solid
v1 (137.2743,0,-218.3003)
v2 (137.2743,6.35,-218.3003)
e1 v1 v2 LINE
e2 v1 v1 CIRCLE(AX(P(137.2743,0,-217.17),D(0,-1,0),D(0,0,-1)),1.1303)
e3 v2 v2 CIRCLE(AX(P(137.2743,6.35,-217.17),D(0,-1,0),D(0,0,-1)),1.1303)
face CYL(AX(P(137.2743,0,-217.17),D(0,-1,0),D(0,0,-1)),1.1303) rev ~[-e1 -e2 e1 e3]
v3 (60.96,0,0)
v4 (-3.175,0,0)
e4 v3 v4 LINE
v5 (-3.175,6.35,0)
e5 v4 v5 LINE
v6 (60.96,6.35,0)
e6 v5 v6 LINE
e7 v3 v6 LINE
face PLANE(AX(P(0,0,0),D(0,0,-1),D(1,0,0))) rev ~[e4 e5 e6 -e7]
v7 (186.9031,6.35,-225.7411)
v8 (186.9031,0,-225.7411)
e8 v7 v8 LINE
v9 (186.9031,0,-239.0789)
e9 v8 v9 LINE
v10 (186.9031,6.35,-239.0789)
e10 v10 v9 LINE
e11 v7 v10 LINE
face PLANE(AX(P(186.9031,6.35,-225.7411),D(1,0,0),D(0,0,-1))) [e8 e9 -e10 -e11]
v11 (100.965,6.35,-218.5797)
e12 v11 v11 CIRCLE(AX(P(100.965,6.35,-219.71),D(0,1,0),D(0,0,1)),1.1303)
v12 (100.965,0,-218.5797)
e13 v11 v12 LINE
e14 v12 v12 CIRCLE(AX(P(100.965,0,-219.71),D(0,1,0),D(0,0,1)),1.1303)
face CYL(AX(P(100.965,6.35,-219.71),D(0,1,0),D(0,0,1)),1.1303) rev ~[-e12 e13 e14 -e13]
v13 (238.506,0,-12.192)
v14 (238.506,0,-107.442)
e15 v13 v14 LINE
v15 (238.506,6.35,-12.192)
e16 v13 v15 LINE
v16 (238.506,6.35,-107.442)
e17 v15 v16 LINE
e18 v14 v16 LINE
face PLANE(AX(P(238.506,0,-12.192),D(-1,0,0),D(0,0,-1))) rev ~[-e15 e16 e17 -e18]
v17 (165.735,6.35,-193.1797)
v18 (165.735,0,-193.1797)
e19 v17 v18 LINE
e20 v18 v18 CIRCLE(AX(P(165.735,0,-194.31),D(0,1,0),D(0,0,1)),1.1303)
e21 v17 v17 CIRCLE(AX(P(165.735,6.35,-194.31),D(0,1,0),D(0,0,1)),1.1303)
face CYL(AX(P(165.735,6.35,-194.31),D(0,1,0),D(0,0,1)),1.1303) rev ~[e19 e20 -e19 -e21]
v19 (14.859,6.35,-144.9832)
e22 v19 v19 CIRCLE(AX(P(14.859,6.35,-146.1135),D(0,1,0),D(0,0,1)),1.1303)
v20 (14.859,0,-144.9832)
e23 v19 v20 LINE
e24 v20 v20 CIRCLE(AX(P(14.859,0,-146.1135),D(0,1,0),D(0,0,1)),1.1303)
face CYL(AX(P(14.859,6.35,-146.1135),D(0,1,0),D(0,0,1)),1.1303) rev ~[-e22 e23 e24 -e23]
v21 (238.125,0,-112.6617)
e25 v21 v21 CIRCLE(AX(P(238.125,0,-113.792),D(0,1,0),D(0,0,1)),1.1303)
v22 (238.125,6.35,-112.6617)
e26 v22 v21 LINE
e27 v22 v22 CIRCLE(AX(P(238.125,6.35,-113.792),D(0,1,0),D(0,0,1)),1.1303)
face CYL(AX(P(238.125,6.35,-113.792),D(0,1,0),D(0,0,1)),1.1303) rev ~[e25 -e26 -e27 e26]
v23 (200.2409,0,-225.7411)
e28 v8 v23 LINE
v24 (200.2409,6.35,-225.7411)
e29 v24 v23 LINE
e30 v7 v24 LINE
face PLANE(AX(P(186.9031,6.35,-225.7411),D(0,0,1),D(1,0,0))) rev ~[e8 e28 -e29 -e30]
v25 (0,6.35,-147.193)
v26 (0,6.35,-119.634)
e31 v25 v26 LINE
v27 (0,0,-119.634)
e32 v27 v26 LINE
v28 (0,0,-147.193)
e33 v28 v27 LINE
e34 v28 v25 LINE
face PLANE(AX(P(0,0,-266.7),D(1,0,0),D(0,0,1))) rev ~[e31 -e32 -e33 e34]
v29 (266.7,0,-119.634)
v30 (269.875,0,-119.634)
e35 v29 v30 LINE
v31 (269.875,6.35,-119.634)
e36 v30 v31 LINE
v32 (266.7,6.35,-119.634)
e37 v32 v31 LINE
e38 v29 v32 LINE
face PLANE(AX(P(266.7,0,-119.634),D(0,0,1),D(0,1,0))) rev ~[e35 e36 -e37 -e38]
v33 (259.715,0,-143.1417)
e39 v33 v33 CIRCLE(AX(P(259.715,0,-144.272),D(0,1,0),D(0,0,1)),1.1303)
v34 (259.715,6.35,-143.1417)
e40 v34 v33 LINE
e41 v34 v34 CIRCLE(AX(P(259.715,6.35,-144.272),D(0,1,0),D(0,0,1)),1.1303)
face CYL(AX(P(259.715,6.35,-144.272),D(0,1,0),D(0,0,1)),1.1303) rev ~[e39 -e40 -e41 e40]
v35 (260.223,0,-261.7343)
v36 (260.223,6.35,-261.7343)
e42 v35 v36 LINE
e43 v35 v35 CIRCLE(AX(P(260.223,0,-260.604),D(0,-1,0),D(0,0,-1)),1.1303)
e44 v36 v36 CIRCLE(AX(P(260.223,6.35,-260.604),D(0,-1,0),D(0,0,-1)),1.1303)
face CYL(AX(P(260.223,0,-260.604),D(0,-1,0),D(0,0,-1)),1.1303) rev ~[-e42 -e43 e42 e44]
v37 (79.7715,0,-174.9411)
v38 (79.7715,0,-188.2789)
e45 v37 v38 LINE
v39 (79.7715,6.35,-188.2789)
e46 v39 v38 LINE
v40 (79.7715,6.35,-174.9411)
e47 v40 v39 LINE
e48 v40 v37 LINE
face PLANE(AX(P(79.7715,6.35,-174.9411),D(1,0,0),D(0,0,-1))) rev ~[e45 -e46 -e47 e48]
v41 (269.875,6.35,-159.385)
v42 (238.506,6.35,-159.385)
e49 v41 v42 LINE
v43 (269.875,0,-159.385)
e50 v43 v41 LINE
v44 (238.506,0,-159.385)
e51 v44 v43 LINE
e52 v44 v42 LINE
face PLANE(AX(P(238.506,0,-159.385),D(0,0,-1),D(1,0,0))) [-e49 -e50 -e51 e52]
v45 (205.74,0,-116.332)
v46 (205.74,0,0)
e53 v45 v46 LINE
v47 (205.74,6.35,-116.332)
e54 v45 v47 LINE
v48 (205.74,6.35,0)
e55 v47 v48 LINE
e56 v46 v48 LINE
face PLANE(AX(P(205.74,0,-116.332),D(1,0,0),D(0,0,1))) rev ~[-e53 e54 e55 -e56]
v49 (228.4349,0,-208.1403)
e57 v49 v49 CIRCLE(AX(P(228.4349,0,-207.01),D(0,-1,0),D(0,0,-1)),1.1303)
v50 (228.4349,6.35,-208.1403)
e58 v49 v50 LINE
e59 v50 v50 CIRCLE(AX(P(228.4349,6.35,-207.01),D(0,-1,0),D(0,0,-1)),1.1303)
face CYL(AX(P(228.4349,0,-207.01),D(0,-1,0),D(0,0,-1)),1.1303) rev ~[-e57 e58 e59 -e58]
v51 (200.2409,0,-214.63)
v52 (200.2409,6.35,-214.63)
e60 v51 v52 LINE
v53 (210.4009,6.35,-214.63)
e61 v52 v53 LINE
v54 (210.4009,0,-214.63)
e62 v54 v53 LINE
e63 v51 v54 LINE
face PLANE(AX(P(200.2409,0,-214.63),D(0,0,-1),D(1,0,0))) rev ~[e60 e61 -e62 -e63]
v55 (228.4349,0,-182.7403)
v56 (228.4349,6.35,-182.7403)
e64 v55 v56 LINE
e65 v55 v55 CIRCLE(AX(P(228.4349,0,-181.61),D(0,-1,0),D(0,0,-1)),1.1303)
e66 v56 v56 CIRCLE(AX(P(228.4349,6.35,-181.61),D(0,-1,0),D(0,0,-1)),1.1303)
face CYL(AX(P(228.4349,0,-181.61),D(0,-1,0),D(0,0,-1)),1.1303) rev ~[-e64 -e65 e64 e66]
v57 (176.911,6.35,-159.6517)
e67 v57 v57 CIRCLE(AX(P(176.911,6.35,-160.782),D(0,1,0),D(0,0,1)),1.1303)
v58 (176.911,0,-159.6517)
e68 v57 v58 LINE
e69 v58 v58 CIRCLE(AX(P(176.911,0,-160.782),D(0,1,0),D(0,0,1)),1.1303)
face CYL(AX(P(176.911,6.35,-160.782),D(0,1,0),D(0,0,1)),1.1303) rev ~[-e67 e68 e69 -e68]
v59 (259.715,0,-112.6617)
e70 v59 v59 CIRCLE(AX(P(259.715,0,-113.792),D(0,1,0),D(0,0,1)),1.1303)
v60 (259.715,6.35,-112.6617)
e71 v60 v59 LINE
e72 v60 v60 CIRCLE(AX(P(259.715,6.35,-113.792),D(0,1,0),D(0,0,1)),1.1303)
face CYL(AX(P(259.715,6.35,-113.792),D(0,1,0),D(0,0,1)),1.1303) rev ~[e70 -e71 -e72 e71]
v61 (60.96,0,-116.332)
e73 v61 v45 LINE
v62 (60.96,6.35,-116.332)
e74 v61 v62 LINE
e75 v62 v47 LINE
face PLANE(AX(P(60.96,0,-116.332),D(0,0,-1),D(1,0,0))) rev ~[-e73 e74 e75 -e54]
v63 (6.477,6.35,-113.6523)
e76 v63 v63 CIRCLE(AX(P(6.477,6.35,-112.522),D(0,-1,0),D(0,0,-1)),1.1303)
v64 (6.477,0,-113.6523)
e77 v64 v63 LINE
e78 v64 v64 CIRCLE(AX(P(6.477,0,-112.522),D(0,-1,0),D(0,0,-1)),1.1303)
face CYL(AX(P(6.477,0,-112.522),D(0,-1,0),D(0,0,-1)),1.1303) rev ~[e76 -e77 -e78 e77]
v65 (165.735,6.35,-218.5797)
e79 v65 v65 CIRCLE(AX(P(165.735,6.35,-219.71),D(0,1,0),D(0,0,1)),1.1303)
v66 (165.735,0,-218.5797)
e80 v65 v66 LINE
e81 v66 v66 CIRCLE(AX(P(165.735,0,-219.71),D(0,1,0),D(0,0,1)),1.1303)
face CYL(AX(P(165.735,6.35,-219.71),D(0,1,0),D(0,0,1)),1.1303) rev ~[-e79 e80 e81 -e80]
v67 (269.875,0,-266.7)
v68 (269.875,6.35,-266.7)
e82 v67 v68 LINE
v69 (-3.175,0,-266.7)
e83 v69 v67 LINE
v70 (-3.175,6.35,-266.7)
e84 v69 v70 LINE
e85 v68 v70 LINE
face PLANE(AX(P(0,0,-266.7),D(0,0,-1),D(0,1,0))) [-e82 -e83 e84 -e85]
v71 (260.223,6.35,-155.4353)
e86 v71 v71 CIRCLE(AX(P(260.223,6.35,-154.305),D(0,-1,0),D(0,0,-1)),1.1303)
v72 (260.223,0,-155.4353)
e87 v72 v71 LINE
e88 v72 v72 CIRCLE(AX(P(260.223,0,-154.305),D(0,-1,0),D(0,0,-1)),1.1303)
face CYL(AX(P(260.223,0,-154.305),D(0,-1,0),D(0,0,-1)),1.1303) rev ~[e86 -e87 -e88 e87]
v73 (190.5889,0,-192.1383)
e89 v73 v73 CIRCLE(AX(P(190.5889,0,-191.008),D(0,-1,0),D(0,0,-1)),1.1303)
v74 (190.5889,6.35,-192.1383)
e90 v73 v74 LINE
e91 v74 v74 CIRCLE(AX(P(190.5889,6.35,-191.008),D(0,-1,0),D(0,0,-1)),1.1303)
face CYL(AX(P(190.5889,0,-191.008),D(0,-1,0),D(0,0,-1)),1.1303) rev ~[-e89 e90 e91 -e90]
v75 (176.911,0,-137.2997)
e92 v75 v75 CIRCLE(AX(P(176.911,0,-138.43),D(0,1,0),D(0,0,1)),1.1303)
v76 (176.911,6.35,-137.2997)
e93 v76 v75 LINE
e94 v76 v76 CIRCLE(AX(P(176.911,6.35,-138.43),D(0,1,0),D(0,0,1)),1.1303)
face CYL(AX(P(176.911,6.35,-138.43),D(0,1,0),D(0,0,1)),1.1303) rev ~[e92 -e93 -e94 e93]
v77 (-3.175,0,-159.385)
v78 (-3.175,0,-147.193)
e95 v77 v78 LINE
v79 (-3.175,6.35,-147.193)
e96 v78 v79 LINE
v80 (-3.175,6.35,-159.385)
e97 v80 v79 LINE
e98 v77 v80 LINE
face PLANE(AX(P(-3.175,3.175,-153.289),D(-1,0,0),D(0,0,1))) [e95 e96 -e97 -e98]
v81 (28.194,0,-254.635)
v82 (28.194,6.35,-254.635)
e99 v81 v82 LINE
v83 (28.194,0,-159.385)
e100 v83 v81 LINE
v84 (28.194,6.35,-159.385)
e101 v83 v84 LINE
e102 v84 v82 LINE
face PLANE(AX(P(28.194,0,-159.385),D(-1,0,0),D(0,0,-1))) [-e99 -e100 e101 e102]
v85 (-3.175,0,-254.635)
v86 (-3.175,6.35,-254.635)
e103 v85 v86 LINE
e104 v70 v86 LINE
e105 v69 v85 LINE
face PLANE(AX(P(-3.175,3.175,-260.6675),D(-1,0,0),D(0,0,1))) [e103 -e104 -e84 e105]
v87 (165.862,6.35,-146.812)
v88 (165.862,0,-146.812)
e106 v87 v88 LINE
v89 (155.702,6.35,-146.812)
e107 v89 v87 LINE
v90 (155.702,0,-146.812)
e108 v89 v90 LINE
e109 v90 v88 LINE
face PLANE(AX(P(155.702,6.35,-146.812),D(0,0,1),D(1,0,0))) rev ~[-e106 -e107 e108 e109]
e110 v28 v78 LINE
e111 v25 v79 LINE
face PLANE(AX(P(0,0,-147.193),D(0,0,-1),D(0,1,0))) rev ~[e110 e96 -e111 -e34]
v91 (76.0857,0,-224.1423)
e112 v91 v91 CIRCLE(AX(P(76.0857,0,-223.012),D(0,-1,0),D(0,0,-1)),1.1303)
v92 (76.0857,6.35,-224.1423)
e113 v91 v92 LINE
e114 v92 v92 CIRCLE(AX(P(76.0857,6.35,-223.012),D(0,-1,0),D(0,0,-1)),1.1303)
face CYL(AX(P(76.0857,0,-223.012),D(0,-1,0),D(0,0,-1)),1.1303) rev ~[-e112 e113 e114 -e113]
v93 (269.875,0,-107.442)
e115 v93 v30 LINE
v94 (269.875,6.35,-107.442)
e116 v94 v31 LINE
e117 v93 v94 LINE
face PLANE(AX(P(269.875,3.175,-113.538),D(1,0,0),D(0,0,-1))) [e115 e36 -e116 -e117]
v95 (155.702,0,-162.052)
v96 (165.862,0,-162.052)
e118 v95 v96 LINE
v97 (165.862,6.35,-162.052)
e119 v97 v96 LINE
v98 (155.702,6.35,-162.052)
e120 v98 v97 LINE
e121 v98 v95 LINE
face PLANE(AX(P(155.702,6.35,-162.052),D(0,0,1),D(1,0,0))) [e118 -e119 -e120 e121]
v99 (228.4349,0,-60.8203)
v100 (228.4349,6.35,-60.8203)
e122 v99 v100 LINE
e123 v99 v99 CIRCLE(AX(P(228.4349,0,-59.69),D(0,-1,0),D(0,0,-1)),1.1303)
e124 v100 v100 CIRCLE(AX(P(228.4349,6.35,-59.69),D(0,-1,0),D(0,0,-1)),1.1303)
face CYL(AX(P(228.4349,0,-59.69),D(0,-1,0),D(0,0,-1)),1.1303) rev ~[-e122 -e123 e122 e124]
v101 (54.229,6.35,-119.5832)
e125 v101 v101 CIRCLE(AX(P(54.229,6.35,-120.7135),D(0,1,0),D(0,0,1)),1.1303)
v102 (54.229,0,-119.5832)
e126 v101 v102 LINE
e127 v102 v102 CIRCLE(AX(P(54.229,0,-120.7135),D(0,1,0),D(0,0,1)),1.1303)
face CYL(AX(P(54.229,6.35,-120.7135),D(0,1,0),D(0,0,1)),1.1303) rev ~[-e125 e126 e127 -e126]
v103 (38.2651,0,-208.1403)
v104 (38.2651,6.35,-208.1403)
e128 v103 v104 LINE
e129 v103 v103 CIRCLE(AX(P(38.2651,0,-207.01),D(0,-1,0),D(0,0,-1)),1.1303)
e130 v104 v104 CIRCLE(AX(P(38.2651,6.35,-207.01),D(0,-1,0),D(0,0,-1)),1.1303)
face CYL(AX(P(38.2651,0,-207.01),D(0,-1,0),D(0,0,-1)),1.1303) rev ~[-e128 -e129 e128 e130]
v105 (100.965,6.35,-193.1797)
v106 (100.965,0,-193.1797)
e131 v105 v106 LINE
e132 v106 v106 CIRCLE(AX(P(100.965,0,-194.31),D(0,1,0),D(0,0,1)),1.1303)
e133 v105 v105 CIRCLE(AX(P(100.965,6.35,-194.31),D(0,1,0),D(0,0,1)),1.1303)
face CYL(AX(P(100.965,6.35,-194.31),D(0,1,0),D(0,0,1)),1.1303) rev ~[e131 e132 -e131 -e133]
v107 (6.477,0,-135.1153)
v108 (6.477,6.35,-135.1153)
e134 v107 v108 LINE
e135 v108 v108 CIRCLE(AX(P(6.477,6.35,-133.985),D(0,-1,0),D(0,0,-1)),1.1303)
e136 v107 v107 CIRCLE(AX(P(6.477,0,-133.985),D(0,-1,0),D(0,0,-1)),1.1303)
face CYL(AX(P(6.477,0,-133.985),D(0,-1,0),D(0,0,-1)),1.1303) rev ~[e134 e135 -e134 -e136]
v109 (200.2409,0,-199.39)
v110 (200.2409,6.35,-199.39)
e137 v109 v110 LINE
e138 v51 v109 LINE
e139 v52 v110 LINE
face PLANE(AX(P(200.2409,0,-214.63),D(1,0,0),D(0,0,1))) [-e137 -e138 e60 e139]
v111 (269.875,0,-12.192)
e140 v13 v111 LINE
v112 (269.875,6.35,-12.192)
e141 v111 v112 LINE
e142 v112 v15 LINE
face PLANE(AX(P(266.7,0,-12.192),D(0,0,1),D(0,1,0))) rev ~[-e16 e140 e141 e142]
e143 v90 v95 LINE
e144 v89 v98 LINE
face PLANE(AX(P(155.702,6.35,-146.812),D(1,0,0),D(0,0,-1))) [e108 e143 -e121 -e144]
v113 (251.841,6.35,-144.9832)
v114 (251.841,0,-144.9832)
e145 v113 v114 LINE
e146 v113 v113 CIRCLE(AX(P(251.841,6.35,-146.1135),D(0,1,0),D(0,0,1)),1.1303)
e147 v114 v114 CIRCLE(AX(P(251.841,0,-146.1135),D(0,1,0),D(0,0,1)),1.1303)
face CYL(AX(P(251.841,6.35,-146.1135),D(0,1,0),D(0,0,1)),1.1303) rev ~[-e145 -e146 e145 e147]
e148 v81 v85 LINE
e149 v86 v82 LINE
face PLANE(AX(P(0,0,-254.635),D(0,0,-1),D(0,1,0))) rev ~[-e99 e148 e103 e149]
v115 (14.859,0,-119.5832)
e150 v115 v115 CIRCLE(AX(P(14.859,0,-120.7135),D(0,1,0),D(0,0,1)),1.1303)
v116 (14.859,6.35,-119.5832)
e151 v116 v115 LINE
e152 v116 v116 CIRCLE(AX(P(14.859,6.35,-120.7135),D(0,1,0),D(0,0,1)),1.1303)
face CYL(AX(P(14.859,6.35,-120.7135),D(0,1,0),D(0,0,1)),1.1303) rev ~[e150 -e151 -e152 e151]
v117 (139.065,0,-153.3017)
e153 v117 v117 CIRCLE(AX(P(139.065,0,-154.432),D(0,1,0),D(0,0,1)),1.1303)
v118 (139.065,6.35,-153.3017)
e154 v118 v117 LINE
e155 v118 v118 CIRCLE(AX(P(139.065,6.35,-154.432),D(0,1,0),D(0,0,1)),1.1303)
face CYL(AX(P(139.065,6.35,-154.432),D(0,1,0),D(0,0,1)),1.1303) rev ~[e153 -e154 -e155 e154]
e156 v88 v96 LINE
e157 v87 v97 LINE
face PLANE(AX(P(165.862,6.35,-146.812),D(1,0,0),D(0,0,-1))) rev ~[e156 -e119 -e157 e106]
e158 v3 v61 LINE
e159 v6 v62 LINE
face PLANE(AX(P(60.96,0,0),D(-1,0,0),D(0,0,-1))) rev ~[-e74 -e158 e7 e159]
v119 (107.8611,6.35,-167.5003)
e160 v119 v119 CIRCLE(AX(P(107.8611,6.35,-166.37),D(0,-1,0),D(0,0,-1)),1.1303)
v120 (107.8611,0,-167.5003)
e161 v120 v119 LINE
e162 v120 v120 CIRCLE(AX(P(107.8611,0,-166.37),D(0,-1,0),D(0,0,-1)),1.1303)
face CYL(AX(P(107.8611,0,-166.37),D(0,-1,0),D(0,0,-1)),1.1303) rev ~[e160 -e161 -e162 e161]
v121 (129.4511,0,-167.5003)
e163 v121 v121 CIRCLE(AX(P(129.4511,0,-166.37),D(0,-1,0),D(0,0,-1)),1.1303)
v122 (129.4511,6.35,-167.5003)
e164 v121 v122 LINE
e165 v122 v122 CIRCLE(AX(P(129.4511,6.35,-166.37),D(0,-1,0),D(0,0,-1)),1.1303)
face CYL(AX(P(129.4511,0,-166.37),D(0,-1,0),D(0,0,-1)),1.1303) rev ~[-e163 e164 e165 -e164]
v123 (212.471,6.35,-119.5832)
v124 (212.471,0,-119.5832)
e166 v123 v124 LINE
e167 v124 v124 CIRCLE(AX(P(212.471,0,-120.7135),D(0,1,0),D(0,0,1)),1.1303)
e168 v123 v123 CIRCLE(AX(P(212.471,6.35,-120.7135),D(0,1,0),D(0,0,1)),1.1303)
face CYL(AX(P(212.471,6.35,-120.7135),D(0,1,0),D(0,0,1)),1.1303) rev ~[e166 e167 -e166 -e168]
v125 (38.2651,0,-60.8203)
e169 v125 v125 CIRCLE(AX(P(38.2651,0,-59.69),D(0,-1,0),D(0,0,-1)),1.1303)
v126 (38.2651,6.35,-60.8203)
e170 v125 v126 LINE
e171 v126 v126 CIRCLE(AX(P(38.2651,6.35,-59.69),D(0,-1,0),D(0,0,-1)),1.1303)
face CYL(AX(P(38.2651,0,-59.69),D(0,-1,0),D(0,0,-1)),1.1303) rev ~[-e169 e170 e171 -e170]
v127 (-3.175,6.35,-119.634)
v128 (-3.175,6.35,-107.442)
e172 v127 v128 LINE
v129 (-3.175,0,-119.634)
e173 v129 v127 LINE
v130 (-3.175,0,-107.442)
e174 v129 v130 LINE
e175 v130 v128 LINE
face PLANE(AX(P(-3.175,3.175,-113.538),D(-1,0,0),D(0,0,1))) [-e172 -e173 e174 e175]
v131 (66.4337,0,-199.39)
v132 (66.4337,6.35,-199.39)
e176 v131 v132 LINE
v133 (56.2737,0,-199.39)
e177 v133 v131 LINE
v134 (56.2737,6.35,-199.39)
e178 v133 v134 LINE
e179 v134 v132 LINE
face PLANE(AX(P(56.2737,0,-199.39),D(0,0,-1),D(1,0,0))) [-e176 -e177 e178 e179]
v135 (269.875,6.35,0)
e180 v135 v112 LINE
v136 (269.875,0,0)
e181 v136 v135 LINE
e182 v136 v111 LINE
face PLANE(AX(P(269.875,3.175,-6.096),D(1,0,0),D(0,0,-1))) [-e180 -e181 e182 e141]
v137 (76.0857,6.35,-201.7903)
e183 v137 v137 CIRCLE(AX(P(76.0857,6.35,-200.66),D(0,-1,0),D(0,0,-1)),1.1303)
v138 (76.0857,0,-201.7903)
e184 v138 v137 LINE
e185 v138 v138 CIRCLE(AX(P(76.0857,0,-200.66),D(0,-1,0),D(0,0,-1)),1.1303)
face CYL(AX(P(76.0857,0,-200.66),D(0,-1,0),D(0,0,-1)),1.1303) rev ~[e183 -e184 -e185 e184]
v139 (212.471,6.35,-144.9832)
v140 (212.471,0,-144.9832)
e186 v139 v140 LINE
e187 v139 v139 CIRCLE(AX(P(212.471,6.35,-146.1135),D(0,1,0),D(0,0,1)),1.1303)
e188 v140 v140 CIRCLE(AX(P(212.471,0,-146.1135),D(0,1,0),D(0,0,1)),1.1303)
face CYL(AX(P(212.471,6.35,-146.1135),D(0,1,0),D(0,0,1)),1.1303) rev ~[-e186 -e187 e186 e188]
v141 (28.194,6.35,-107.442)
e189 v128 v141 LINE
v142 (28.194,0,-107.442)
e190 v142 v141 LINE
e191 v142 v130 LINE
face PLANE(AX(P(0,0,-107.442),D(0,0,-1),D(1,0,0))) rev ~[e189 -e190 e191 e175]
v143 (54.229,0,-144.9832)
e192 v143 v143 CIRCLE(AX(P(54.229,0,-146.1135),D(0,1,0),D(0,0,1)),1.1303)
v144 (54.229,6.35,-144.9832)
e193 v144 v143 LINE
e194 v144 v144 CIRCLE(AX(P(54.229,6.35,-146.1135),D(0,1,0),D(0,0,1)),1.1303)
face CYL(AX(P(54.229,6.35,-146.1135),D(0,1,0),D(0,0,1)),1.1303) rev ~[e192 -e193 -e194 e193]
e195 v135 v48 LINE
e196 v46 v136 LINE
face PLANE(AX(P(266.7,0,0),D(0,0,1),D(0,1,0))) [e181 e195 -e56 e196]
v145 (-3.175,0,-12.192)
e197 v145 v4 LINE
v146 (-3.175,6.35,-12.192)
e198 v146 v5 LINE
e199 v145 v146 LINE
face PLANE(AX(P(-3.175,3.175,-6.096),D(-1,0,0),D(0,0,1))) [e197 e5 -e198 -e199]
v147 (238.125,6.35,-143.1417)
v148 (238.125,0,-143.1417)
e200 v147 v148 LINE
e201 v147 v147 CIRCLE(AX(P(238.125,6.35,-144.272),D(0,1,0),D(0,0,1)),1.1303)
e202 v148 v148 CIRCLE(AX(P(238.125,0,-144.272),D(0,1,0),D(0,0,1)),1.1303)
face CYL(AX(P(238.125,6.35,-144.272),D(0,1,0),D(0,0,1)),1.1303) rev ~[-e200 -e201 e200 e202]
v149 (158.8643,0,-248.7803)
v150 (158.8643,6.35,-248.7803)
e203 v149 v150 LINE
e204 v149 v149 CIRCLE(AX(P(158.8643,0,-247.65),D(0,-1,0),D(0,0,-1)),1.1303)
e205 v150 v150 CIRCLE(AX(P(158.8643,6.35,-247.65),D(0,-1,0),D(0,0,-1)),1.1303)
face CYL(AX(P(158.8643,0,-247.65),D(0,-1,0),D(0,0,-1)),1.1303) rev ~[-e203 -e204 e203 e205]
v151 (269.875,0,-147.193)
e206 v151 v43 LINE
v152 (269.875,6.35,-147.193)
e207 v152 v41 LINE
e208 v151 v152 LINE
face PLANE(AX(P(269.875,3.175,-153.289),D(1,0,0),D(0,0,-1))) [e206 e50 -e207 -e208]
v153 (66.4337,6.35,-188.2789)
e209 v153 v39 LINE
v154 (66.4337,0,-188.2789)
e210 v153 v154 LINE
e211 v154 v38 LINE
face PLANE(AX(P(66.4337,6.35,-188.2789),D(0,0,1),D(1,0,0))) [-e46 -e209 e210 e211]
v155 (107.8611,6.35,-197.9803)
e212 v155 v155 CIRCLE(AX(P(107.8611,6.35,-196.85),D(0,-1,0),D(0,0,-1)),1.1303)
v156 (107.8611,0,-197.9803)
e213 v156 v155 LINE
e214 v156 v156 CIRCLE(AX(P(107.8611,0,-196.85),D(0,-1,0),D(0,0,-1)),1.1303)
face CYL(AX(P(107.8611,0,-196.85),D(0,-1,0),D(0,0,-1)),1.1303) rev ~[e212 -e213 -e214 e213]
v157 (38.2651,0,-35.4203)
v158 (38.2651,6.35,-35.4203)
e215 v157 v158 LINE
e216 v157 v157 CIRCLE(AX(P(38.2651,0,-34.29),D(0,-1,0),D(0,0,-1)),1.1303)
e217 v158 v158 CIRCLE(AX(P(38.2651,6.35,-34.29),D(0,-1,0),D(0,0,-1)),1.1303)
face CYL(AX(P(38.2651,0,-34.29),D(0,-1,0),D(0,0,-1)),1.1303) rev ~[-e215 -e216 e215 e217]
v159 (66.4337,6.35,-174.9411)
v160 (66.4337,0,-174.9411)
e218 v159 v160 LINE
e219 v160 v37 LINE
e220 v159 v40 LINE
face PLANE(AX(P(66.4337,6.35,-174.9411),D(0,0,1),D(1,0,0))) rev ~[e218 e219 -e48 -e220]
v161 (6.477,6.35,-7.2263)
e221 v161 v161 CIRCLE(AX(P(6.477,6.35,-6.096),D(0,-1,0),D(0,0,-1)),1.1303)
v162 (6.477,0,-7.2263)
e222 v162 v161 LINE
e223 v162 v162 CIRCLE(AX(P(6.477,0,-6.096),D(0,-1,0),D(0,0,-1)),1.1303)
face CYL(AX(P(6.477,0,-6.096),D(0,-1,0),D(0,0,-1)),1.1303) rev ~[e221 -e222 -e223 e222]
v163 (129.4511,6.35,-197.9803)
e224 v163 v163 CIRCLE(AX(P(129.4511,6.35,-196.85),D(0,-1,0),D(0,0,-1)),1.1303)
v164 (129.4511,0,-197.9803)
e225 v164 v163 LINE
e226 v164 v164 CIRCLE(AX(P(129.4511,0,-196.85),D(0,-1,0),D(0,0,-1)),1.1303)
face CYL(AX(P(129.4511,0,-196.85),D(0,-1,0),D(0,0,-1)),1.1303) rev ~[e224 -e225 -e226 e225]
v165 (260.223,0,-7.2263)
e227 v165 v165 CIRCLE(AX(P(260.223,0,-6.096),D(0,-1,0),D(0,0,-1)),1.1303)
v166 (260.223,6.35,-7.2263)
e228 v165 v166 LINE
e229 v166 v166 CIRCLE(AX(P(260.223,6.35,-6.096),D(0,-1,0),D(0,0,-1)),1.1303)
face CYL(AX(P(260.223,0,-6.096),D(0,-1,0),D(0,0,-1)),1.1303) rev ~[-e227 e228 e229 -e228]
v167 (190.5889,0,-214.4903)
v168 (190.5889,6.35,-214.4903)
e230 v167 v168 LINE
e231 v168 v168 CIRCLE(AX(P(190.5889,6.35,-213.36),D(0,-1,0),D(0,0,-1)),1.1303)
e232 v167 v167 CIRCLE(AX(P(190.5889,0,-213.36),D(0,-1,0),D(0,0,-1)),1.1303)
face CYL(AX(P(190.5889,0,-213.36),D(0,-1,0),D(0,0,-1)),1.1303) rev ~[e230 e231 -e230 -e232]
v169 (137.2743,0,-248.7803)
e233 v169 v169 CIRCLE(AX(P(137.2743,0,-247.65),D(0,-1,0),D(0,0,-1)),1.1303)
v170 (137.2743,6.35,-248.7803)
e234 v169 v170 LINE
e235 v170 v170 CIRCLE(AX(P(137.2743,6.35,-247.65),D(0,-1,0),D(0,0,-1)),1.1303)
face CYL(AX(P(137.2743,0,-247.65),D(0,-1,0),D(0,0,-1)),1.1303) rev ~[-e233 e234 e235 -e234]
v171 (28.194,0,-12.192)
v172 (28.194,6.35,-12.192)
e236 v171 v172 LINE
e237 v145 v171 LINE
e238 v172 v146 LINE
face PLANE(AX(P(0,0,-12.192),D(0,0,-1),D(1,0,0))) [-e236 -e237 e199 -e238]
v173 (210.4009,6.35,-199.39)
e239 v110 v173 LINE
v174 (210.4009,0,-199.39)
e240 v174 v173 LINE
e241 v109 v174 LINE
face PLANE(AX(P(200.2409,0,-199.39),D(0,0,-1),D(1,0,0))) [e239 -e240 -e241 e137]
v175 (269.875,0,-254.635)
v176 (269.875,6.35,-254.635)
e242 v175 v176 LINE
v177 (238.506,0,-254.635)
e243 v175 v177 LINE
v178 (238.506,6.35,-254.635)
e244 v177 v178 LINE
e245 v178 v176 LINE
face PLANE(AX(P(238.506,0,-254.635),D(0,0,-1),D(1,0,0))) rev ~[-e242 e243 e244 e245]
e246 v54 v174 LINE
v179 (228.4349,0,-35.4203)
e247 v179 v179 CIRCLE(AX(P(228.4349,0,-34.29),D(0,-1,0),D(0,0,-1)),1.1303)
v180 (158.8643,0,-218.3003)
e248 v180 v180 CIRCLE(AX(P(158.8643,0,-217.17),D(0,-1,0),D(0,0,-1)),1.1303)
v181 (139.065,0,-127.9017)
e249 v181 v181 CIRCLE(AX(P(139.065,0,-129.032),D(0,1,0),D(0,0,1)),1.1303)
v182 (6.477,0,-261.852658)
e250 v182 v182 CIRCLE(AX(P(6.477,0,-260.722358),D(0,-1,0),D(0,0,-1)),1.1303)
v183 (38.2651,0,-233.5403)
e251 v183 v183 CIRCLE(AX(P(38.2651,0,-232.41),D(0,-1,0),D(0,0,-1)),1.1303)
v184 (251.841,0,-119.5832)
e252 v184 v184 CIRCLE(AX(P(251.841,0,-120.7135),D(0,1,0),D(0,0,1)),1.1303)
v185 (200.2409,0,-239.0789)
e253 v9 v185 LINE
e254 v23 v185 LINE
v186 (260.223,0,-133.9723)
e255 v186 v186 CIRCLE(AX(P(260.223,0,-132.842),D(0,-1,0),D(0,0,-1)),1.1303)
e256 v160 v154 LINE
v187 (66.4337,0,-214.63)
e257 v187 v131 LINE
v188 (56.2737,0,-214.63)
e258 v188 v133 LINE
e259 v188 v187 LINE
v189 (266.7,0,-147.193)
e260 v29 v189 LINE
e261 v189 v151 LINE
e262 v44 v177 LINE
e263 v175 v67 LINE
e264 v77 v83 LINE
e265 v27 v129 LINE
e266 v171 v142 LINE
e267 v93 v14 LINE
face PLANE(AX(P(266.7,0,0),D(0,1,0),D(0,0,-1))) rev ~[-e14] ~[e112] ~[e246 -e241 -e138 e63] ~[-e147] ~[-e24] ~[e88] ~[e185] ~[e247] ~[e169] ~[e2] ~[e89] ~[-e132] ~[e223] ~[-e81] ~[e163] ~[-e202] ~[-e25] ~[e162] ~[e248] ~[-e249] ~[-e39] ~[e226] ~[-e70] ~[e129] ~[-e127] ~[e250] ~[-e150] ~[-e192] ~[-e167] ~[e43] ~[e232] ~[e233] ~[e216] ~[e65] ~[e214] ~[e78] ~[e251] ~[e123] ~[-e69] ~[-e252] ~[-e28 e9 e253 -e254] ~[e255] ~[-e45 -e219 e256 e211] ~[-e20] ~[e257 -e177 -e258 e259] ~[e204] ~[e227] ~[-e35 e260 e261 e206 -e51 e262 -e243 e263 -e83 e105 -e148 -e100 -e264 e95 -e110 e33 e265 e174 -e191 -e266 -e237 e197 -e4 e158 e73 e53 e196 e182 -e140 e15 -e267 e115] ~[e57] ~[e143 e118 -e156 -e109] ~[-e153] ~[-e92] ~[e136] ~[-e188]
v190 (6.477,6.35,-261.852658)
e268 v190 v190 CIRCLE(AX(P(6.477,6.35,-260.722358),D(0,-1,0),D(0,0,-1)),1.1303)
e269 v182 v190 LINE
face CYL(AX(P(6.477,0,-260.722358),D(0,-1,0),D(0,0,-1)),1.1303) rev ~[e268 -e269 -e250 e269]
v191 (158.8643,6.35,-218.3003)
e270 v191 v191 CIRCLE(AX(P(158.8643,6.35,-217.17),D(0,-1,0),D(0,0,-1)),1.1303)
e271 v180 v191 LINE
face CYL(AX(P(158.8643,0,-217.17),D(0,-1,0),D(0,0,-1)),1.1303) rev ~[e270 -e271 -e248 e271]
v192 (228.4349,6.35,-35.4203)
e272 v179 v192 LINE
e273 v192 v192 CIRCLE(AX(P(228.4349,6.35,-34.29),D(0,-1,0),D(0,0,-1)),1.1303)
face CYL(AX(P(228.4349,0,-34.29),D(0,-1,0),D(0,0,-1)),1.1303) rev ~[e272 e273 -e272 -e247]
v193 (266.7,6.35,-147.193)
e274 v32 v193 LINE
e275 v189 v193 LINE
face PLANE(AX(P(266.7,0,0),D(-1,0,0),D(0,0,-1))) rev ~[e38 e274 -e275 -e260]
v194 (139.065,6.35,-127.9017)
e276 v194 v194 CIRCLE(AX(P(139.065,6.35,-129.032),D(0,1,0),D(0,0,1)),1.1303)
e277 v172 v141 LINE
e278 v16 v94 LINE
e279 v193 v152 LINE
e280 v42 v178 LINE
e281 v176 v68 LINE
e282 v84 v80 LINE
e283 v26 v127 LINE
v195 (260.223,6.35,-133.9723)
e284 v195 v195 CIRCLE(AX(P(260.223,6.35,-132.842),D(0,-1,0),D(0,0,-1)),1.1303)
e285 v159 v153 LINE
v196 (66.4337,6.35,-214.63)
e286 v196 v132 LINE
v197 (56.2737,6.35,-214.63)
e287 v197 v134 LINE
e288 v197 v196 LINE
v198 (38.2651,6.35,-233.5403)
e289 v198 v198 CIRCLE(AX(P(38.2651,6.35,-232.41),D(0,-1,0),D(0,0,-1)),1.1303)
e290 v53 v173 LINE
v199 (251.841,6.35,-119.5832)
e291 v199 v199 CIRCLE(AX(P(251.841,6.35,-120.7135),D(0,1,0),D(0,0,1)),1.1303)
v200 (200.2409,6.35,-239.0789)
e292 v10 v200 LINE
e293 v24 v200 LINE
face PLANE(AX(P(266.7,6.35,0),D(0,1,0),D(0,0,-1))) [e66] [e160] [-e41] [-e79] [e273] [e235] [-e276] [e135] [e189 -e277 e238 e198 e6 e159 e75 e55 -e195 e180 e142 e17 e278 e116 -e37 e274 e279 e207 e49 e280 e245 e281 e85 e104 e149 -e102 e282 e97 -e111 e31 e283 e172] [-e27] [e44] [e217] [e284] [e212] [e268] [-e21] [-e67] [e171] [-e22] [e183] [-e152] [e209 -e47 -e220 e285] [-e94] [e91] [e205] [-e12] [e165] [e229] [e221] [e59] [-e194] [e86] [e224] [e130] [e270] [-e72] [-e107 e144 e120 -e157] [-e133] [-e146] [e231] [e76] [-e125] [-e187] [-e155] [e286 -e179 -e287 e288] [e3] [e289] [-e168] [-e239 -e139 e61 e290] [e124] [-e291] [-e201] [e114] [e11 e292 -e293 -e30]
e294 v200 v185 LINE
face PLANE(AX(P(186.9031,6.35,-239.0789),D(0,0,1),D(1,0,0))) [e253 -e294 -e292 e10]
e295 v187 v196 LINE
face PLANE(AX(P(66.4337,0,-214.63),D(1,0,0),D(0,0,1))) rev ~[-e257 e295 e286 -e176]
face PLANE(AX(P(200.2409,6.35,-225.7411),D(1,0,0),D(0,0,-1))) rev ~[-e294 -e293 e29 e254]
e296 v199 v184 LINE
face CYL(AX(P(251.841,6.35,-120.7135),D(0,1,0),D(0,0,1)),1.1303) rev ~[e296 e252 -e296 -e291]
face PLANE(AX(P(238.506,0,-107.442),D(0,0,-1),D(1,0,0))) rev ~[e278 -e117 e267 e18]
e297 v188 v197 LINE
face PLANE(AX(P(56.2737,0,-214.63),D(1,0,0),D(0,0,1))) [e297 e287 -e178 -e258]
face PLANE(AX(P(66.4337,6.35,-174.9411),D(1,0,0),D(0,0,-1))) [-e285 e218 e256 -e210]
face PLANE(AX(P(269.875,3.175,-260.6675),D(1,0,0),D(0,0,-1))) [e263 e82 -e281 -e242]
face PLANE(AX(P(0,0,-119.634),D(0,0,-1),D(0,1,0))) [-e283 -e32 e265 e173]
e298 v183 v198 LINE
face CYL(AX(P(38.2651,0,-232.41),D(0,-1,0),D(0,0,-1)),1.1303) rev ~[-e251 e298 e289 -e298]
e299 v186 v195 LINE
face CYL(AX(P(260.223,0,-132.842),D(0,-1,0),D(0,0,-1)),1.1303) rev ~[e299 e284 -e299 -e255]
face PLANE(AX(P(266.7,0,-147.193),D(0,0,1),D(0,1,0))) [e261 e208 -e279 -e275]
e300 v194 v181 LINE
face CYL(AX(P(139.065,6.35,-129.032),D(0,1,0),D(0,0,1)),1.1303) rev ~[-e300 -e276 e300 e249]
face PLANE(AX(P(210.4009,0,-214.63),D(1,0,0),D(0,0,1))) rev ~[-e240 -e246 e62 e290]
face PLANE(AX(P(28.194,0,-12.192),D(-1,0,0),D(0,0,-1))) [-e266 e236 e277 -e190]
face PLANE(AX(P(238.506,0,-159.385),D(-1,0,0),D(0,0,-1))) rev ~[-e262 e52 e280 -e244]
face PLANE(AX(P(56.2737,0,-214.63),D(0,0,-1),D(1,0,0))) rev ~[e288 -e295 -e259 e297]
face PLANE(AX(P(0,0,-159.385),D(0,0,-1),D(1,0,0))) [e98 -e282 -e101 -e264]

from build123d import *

# Parameters (mm, degrees)
BOSS_EXTRUDE1_DEPTH = 6.35
SKETCH3_R           = 1.1303
SKETCH3_W           = 10.16
SKETCH3_H           = 15.24
CUT_EXTRUDE1_DEPTH  = 6.35
SKETCH5_W           = 28.194
SKETCH5_H           = 95.25
CUT_EXTRUDE2_DEPTH  = 6.35
SKETCH6_W           = 13.337799598
SKETCH6_H           = 13.337799598
CUT_EXTRUDE3_DEPTH  = 6.35
SKETCH7_R           = 1.1303
CUT_EXTRUDE4_DEPTH  = 16.002
SKETCH8_R           = 1.1303
SKETCH8_W           = 10.16
SKETCH8_H           = 15.24
CUT_EXTRUDE5_DEPTH  = 6.35
SKETCH9_W           = 12.065
SKETCH9_H           = 6.35
SKETCH9_W_2         = 12.192
BOSS_EXTRUDE2_DEPTH = 3.175
SKETCH10_W          = 12.192
SKETCH10_H          = 6.35
SKETCH10_W_2        = 12.065
BOSS_EXTRUDE3_DEPTH = 3.175
SKETCH12_R          = 1.1303
CUT_EXTRUDE7_DEPTH  = 19.05
SKETCH14_R          = 1.1303
CUT_EXTRUDE8_DEPTH  = 6.35
SKETCH15_R          = 1.1303
CUT_EXTRUDE9_DEPTH  = 6.35


with BuildPart() as part:
    # Sketch1 → Boss-Extrude1 (new body)
    with BuildSketch(Plane(origin=(0, 0, 0), x_dir=(1, 0, 0), z_dir=(0, 1, 0))):
        Polygon((0, 0), (60.96, 0), (60.96, 116.332), (205.74, 116.332), (205.74, 0), (266.7, 0), (266.7, 266.7), (0, 266.7), align=None)
    extrude(amount=BOSS_EXTRUDE1_DEPTH)

    # Sketch3 → Cut-Extrude1 (cut)
    with BuildSketch(Plane.XZ):
        with Locations(Location((38.2651, -232.41, 0), (0, 0, 270))):
            Circle(SKETCH3_R)
        with Locations(Location((38.2651, -207.01, 0), (0, 0, 270))):
            Circle(SKETCH3_R)
        with Locations(Location((76.0857, -223.012, 0), (0, 0, 270))):
            Circle(SKETCH3_R)
        with Locations(Location((76.0857, -200.66, 0), (0, 0, 270))):
            Circle(SKETCH3_R)
        with Locations(Location((107.8611, -166.37, 0), (0, 0, 270))):
            Circle(SKETCH3_R)
        with Locations(Location((107.8611, -196.85, 0), (0, 0, 270))):
            Circle(SKETCH3_R)
        with Locations(Location((129.4511, -166.37, 0), (0, 0, 270))):
            Circle(SKETCH3_R)
        with Locations(Location((129.4511, -196.85, 0), (0, 0, 270))):
            Circle(SKETCH3_R)
        with Locations(Location((137.2743, -217.17, 0), (0, 0, 270))):
            Circle(SKETCH3_R)
        with Locations(Location((158.8643, -217.17, 0), (0, 0, 270))):
            Circle(SKETCH3_R)
        with Locations(Location((137.2743, -247.65, 0), (0, 0, 270))):
            Circle(SKETCH3_R)
        with Locations(Location((158.8643, -247.65, 0), (0, 0, 270))):
            Circle(SKETCH3_R)
        with Locations(Location((190.5889, -191.008, 0), (0, 0, 270))):
            Circle(SKETCH3_R)
        with Locations(Location((190.5889, -213.36, 0), (0, 0, 270))):
            Circle(SKETCH3_R)
        with Locations(Location((228.4349, -181.61, 0), (0, 0, 270))):
            Circle(SKETCH3_R)
        with Locations(Location((228.4349, -207.01, 0), (0, 0, 270))):
            Circle(SKETCH3_R)
        with Locations((205.3209, -207.01)):
            Rectangle(SKETCH3_W, SKETCH3_H)
        with Locations((61.3537, -207.01)):
            Rectangle(SKETCH3_W, SKETCH3_H)
    extrude(amount=-CUT_EXTRUDE1_DEPTH, mode=Mode.SUBTRACT)

    # Sketch5 → Cut-Extrude2 (cut)
    with BuildSketch(Plane(origin=(0, 0, 0), x_dir=(1, 0, 0), z_dir=(0, 1, 0))):
        with Locations((14.097, 207.01)):
            Rectangle(SKETCH5_W, SKETCH5_H)
        with Locations((252.603, 207.01)):
            Rectangle(SKETCH5_W, SKETCH5_H)
        with Locations((252.603, 59.817)):
            Rectangle(SKETCH5_W, SKETCH5_H)
        with Locations((14.097, 59.817)):
            Rectangle(SKETCH5_W, SKETCH5_H)
    extrude(amount=CUT_EXTRUDE2_DEPTH, mode=Mode.SUBTRACT)

    # Sketch6 → Cut-Extrude3 (cut)
    with BuildSketch(Plane(origin=(0, 6.35, 0), x_dir=(1, 0, 0), z_dir=(0, 1, 0))):
        with Locations((73.102599799, 181.61)):
            Rectangle(SKETCH6_W, SKETCH6_H)
        with Locations((193.572000201, 232.41)):
            Rectangle(SKETCH6_W, SKETCH6_H)
    extrude(amount=-CUT_EXTRUDE3_DEPTH, mode=Mode.SUBTRACT)

    # Sketch7 → Cut-Extrude4 (cut)
    with BuildSketch(Plane.XZ):
        with Locations(Location((38.2651, -34.29, 0), (0, 0, 270))):
            Circle(SKETCH7_R)
        with Locations(Location((38.2651, -59.69, 0), (0, 0, 270))):
            Circle(SKETCH7_R)
        with Locations(Location((228.4349, -34.29, 0), (0, 0, 270))):
            Circle(SKETCH7_R)
        with Locations(Location((228.4349, -59.69, 0), (0, 0, 270))):
            Circle(SKETCH7_R)
    extrude(amount=-CUT_EXTRUDE4_DEPTH, mode=Mode.SUBTRACT)

    # Sketch8 → Cut-Extrude5 (cut)
    with BuildSketch(Plane(origin=(0, 6.35, 0), x_dir=(1, 0, 0), z_dir=(0, 1, 0))):
        with Locations(Location((14.859, 146.1135, 0), (0, 0, 270))):
            Circle(SKETCH8_R)
        with Locations(Location((14.859, 120.7135, 0), (0, 0, 270))):
            Circle(SKETCH8_R)
        with Locations(Location((54.229, 146.1135, 0), (0, 0, 270))):
            Circle(SKETCH8_R)
        with Locations(Location((54.229, 120.7135, 0), (0, 0, 270))):
            Circle(SKETCH8_R)
        with Locations(Location((212.471, 146.1135, 0), (0, 0, 270))):
            Circle(SKETCH8_R)
        with Locations(Location((212.471, 120.7135, 0), (0, 0, 270))):
            Circle(SKETCH8_R)
        with Locations(Location((251.841, 120.7135, 0), (0, 0, 270))):
            Circle(SKETCH8_R)
        with Locations(Location((251.841, 146.1135, 0), (0, 0, 270))):
            Circle(SKETCH8_R)
        with Locations(Location((139.065, 154.432, 0), (0, 0, 270))):
            Circle(SKETCH8_R)
        with Locations(Location((139.065, 129.032, 0), (0, 0, 270))):
            Circle(SKETCH8_R)
        with Locations(Location((176.911, 160.782, 0), (0, 0, 270))):
            Circle(SKETCH8_R)
        with Locations(Location((176.911, 138.43, 0), (0, 0, 270))):
            Circle(SKETCH8_R)
        with Locations(Location((238.125, 144.272, 0), (0, 0, 270))):
            Circle(SKETCH8_R)
        with Locations(Location((238.125, 113.792, 0), (0, 0, 270))):
            Circle(SKETCH8_R)
        with Locations(Location((259.715, 144.272, 0), (0, 0, 270))):
            Circle(SKETCH8_R)
        with Locations(Location((259.715, 113.792, 0), (0, 0, 270))):
            Circle(SKETCH8_R)
        with Locations((160.782, 154.432)):
            Rectangle(SKETCH8_W, SKETCH8_H)
    extrude(amount=-CUT_EXTRUDE5_DEPTH, mode=Mode.SUBTRACT)

    # Sketch9 → Boss-Extrude2 (add)
    with BuildSketch(Plane.ZY):
        with Locations((-260.6675, 3.175)):
            Rectangle(SKETCH9_W, SKETCH9_H)
        with Locations((-6.096, 3.175)):
            Rectangle(SKETCH9_W_2, SKETCH9_H)
        with Locations((-153.289, 3.175)):
            Rectangle(SKETCH9_W_2, SKETCH9_H)
        with Locations((-113.538, 3.175)):
            Rectangle(SKETCH9_W_2, SKETCH9_H)
    extrude(amount=BOSS_EXTRUDE2_DEPTH)

    # Sketch10 → Boss-Extrude3 (add)
    with BuildSketch(Plane(origin=(266.7, 0, 0), x_dir=(0, 0, -1), z_dir=(1, 0, 0))):
        with Locations((6.096, 3.175)):
            Rectangle(SKETCH10_W, SKETCH10_H)
        with Locations((113.538, 3.175)):
            Rectangle(SKETCH10_W, SKETCH10_H)
        with Locations((153.289, 3.175)):
            Rectangle(SKETCH10_W, SKETCH10_H)
        with Locations((260.6675, 3.175)):
            Rectangle(SKETCH10_W_2, SKETCH10_H)
    extrude(amount=BOSS_EXTRUDE3_DEPTH)

    # Sketch12 → Cut-Extrude7 (cut)
    with BuildSketch(Plane(origin=(0, 6.35, 0), x_dir=(1, 0, 0), z_dir=(0, 1, 0))):
        with Locations(Location((100.965, 219.71, 0), (0, 0, 270))):
            Circle(SKETCH12_R)
        with Locations(Location((100.965, 194.31, 0), (0, 0, 270))):
            Circle(SKETCH12_R)
        with Locations(Location((165.735, 219.71, 0), (0, 0, 270))):
            Circle(SKETCH12_R)
        with Locations(Location((165.735, 194.31, 0), (0, 0, 270))):
            Circle(SKETCH12_R)
    extrude(amount=-CUT_EXTRUDE7_DEPTH, mode=Mode.SUBTRACT)

    # Sketch14 → Cut-Extrude8 (cut)
    with BuildSketch(Plane.XZ):
        with Locations(Location((6.477, -133.985, 0), (0, 0, 270))):
            Circle(SKETCH14_R)
        with Locations(Location((6.477, -112.522, 0), (0, 0, 270))):
            Circle(SKETCH14_R)
        with Locations(Location((260.223, -132.842, 0), (0, 0, 270))):
            Circle(SKETCH14_R)
        with Locations(Location((260.223, -154.305, 0), (0, 0, 270))):
            Circle(SKETCH14_R)
    extrude(amount=-CUT_EXTRUDE8_DEPTH, mode=Mode.SUBTRACT)

    # Sketch15 → Cut-Extrude9 (cut)
    with BuildSketch(Plane.XZ):
        with Locations(Location((6.477, -6.096, 0), (0, 0, 270))):
            Circle(SKETCH15_R)
        with Locations(Location((6.477, -260.722358198, 0), (0, 0, 270))):
            Circle(SKETCH15_R)
        with Locations(Location((260.223, -260.604, 0), (0, 0, 270))):
            Circle(SKETCH15_R)
        with Locations(Location((260.223, -6.096, 0), (0, 0, 270))):
            Circle(SKETCH15_R)
    extrude(amount=-CUT_EXTRUDE9_DEPTH, mode=Mode.SUBTRACT)


solid = part.part
